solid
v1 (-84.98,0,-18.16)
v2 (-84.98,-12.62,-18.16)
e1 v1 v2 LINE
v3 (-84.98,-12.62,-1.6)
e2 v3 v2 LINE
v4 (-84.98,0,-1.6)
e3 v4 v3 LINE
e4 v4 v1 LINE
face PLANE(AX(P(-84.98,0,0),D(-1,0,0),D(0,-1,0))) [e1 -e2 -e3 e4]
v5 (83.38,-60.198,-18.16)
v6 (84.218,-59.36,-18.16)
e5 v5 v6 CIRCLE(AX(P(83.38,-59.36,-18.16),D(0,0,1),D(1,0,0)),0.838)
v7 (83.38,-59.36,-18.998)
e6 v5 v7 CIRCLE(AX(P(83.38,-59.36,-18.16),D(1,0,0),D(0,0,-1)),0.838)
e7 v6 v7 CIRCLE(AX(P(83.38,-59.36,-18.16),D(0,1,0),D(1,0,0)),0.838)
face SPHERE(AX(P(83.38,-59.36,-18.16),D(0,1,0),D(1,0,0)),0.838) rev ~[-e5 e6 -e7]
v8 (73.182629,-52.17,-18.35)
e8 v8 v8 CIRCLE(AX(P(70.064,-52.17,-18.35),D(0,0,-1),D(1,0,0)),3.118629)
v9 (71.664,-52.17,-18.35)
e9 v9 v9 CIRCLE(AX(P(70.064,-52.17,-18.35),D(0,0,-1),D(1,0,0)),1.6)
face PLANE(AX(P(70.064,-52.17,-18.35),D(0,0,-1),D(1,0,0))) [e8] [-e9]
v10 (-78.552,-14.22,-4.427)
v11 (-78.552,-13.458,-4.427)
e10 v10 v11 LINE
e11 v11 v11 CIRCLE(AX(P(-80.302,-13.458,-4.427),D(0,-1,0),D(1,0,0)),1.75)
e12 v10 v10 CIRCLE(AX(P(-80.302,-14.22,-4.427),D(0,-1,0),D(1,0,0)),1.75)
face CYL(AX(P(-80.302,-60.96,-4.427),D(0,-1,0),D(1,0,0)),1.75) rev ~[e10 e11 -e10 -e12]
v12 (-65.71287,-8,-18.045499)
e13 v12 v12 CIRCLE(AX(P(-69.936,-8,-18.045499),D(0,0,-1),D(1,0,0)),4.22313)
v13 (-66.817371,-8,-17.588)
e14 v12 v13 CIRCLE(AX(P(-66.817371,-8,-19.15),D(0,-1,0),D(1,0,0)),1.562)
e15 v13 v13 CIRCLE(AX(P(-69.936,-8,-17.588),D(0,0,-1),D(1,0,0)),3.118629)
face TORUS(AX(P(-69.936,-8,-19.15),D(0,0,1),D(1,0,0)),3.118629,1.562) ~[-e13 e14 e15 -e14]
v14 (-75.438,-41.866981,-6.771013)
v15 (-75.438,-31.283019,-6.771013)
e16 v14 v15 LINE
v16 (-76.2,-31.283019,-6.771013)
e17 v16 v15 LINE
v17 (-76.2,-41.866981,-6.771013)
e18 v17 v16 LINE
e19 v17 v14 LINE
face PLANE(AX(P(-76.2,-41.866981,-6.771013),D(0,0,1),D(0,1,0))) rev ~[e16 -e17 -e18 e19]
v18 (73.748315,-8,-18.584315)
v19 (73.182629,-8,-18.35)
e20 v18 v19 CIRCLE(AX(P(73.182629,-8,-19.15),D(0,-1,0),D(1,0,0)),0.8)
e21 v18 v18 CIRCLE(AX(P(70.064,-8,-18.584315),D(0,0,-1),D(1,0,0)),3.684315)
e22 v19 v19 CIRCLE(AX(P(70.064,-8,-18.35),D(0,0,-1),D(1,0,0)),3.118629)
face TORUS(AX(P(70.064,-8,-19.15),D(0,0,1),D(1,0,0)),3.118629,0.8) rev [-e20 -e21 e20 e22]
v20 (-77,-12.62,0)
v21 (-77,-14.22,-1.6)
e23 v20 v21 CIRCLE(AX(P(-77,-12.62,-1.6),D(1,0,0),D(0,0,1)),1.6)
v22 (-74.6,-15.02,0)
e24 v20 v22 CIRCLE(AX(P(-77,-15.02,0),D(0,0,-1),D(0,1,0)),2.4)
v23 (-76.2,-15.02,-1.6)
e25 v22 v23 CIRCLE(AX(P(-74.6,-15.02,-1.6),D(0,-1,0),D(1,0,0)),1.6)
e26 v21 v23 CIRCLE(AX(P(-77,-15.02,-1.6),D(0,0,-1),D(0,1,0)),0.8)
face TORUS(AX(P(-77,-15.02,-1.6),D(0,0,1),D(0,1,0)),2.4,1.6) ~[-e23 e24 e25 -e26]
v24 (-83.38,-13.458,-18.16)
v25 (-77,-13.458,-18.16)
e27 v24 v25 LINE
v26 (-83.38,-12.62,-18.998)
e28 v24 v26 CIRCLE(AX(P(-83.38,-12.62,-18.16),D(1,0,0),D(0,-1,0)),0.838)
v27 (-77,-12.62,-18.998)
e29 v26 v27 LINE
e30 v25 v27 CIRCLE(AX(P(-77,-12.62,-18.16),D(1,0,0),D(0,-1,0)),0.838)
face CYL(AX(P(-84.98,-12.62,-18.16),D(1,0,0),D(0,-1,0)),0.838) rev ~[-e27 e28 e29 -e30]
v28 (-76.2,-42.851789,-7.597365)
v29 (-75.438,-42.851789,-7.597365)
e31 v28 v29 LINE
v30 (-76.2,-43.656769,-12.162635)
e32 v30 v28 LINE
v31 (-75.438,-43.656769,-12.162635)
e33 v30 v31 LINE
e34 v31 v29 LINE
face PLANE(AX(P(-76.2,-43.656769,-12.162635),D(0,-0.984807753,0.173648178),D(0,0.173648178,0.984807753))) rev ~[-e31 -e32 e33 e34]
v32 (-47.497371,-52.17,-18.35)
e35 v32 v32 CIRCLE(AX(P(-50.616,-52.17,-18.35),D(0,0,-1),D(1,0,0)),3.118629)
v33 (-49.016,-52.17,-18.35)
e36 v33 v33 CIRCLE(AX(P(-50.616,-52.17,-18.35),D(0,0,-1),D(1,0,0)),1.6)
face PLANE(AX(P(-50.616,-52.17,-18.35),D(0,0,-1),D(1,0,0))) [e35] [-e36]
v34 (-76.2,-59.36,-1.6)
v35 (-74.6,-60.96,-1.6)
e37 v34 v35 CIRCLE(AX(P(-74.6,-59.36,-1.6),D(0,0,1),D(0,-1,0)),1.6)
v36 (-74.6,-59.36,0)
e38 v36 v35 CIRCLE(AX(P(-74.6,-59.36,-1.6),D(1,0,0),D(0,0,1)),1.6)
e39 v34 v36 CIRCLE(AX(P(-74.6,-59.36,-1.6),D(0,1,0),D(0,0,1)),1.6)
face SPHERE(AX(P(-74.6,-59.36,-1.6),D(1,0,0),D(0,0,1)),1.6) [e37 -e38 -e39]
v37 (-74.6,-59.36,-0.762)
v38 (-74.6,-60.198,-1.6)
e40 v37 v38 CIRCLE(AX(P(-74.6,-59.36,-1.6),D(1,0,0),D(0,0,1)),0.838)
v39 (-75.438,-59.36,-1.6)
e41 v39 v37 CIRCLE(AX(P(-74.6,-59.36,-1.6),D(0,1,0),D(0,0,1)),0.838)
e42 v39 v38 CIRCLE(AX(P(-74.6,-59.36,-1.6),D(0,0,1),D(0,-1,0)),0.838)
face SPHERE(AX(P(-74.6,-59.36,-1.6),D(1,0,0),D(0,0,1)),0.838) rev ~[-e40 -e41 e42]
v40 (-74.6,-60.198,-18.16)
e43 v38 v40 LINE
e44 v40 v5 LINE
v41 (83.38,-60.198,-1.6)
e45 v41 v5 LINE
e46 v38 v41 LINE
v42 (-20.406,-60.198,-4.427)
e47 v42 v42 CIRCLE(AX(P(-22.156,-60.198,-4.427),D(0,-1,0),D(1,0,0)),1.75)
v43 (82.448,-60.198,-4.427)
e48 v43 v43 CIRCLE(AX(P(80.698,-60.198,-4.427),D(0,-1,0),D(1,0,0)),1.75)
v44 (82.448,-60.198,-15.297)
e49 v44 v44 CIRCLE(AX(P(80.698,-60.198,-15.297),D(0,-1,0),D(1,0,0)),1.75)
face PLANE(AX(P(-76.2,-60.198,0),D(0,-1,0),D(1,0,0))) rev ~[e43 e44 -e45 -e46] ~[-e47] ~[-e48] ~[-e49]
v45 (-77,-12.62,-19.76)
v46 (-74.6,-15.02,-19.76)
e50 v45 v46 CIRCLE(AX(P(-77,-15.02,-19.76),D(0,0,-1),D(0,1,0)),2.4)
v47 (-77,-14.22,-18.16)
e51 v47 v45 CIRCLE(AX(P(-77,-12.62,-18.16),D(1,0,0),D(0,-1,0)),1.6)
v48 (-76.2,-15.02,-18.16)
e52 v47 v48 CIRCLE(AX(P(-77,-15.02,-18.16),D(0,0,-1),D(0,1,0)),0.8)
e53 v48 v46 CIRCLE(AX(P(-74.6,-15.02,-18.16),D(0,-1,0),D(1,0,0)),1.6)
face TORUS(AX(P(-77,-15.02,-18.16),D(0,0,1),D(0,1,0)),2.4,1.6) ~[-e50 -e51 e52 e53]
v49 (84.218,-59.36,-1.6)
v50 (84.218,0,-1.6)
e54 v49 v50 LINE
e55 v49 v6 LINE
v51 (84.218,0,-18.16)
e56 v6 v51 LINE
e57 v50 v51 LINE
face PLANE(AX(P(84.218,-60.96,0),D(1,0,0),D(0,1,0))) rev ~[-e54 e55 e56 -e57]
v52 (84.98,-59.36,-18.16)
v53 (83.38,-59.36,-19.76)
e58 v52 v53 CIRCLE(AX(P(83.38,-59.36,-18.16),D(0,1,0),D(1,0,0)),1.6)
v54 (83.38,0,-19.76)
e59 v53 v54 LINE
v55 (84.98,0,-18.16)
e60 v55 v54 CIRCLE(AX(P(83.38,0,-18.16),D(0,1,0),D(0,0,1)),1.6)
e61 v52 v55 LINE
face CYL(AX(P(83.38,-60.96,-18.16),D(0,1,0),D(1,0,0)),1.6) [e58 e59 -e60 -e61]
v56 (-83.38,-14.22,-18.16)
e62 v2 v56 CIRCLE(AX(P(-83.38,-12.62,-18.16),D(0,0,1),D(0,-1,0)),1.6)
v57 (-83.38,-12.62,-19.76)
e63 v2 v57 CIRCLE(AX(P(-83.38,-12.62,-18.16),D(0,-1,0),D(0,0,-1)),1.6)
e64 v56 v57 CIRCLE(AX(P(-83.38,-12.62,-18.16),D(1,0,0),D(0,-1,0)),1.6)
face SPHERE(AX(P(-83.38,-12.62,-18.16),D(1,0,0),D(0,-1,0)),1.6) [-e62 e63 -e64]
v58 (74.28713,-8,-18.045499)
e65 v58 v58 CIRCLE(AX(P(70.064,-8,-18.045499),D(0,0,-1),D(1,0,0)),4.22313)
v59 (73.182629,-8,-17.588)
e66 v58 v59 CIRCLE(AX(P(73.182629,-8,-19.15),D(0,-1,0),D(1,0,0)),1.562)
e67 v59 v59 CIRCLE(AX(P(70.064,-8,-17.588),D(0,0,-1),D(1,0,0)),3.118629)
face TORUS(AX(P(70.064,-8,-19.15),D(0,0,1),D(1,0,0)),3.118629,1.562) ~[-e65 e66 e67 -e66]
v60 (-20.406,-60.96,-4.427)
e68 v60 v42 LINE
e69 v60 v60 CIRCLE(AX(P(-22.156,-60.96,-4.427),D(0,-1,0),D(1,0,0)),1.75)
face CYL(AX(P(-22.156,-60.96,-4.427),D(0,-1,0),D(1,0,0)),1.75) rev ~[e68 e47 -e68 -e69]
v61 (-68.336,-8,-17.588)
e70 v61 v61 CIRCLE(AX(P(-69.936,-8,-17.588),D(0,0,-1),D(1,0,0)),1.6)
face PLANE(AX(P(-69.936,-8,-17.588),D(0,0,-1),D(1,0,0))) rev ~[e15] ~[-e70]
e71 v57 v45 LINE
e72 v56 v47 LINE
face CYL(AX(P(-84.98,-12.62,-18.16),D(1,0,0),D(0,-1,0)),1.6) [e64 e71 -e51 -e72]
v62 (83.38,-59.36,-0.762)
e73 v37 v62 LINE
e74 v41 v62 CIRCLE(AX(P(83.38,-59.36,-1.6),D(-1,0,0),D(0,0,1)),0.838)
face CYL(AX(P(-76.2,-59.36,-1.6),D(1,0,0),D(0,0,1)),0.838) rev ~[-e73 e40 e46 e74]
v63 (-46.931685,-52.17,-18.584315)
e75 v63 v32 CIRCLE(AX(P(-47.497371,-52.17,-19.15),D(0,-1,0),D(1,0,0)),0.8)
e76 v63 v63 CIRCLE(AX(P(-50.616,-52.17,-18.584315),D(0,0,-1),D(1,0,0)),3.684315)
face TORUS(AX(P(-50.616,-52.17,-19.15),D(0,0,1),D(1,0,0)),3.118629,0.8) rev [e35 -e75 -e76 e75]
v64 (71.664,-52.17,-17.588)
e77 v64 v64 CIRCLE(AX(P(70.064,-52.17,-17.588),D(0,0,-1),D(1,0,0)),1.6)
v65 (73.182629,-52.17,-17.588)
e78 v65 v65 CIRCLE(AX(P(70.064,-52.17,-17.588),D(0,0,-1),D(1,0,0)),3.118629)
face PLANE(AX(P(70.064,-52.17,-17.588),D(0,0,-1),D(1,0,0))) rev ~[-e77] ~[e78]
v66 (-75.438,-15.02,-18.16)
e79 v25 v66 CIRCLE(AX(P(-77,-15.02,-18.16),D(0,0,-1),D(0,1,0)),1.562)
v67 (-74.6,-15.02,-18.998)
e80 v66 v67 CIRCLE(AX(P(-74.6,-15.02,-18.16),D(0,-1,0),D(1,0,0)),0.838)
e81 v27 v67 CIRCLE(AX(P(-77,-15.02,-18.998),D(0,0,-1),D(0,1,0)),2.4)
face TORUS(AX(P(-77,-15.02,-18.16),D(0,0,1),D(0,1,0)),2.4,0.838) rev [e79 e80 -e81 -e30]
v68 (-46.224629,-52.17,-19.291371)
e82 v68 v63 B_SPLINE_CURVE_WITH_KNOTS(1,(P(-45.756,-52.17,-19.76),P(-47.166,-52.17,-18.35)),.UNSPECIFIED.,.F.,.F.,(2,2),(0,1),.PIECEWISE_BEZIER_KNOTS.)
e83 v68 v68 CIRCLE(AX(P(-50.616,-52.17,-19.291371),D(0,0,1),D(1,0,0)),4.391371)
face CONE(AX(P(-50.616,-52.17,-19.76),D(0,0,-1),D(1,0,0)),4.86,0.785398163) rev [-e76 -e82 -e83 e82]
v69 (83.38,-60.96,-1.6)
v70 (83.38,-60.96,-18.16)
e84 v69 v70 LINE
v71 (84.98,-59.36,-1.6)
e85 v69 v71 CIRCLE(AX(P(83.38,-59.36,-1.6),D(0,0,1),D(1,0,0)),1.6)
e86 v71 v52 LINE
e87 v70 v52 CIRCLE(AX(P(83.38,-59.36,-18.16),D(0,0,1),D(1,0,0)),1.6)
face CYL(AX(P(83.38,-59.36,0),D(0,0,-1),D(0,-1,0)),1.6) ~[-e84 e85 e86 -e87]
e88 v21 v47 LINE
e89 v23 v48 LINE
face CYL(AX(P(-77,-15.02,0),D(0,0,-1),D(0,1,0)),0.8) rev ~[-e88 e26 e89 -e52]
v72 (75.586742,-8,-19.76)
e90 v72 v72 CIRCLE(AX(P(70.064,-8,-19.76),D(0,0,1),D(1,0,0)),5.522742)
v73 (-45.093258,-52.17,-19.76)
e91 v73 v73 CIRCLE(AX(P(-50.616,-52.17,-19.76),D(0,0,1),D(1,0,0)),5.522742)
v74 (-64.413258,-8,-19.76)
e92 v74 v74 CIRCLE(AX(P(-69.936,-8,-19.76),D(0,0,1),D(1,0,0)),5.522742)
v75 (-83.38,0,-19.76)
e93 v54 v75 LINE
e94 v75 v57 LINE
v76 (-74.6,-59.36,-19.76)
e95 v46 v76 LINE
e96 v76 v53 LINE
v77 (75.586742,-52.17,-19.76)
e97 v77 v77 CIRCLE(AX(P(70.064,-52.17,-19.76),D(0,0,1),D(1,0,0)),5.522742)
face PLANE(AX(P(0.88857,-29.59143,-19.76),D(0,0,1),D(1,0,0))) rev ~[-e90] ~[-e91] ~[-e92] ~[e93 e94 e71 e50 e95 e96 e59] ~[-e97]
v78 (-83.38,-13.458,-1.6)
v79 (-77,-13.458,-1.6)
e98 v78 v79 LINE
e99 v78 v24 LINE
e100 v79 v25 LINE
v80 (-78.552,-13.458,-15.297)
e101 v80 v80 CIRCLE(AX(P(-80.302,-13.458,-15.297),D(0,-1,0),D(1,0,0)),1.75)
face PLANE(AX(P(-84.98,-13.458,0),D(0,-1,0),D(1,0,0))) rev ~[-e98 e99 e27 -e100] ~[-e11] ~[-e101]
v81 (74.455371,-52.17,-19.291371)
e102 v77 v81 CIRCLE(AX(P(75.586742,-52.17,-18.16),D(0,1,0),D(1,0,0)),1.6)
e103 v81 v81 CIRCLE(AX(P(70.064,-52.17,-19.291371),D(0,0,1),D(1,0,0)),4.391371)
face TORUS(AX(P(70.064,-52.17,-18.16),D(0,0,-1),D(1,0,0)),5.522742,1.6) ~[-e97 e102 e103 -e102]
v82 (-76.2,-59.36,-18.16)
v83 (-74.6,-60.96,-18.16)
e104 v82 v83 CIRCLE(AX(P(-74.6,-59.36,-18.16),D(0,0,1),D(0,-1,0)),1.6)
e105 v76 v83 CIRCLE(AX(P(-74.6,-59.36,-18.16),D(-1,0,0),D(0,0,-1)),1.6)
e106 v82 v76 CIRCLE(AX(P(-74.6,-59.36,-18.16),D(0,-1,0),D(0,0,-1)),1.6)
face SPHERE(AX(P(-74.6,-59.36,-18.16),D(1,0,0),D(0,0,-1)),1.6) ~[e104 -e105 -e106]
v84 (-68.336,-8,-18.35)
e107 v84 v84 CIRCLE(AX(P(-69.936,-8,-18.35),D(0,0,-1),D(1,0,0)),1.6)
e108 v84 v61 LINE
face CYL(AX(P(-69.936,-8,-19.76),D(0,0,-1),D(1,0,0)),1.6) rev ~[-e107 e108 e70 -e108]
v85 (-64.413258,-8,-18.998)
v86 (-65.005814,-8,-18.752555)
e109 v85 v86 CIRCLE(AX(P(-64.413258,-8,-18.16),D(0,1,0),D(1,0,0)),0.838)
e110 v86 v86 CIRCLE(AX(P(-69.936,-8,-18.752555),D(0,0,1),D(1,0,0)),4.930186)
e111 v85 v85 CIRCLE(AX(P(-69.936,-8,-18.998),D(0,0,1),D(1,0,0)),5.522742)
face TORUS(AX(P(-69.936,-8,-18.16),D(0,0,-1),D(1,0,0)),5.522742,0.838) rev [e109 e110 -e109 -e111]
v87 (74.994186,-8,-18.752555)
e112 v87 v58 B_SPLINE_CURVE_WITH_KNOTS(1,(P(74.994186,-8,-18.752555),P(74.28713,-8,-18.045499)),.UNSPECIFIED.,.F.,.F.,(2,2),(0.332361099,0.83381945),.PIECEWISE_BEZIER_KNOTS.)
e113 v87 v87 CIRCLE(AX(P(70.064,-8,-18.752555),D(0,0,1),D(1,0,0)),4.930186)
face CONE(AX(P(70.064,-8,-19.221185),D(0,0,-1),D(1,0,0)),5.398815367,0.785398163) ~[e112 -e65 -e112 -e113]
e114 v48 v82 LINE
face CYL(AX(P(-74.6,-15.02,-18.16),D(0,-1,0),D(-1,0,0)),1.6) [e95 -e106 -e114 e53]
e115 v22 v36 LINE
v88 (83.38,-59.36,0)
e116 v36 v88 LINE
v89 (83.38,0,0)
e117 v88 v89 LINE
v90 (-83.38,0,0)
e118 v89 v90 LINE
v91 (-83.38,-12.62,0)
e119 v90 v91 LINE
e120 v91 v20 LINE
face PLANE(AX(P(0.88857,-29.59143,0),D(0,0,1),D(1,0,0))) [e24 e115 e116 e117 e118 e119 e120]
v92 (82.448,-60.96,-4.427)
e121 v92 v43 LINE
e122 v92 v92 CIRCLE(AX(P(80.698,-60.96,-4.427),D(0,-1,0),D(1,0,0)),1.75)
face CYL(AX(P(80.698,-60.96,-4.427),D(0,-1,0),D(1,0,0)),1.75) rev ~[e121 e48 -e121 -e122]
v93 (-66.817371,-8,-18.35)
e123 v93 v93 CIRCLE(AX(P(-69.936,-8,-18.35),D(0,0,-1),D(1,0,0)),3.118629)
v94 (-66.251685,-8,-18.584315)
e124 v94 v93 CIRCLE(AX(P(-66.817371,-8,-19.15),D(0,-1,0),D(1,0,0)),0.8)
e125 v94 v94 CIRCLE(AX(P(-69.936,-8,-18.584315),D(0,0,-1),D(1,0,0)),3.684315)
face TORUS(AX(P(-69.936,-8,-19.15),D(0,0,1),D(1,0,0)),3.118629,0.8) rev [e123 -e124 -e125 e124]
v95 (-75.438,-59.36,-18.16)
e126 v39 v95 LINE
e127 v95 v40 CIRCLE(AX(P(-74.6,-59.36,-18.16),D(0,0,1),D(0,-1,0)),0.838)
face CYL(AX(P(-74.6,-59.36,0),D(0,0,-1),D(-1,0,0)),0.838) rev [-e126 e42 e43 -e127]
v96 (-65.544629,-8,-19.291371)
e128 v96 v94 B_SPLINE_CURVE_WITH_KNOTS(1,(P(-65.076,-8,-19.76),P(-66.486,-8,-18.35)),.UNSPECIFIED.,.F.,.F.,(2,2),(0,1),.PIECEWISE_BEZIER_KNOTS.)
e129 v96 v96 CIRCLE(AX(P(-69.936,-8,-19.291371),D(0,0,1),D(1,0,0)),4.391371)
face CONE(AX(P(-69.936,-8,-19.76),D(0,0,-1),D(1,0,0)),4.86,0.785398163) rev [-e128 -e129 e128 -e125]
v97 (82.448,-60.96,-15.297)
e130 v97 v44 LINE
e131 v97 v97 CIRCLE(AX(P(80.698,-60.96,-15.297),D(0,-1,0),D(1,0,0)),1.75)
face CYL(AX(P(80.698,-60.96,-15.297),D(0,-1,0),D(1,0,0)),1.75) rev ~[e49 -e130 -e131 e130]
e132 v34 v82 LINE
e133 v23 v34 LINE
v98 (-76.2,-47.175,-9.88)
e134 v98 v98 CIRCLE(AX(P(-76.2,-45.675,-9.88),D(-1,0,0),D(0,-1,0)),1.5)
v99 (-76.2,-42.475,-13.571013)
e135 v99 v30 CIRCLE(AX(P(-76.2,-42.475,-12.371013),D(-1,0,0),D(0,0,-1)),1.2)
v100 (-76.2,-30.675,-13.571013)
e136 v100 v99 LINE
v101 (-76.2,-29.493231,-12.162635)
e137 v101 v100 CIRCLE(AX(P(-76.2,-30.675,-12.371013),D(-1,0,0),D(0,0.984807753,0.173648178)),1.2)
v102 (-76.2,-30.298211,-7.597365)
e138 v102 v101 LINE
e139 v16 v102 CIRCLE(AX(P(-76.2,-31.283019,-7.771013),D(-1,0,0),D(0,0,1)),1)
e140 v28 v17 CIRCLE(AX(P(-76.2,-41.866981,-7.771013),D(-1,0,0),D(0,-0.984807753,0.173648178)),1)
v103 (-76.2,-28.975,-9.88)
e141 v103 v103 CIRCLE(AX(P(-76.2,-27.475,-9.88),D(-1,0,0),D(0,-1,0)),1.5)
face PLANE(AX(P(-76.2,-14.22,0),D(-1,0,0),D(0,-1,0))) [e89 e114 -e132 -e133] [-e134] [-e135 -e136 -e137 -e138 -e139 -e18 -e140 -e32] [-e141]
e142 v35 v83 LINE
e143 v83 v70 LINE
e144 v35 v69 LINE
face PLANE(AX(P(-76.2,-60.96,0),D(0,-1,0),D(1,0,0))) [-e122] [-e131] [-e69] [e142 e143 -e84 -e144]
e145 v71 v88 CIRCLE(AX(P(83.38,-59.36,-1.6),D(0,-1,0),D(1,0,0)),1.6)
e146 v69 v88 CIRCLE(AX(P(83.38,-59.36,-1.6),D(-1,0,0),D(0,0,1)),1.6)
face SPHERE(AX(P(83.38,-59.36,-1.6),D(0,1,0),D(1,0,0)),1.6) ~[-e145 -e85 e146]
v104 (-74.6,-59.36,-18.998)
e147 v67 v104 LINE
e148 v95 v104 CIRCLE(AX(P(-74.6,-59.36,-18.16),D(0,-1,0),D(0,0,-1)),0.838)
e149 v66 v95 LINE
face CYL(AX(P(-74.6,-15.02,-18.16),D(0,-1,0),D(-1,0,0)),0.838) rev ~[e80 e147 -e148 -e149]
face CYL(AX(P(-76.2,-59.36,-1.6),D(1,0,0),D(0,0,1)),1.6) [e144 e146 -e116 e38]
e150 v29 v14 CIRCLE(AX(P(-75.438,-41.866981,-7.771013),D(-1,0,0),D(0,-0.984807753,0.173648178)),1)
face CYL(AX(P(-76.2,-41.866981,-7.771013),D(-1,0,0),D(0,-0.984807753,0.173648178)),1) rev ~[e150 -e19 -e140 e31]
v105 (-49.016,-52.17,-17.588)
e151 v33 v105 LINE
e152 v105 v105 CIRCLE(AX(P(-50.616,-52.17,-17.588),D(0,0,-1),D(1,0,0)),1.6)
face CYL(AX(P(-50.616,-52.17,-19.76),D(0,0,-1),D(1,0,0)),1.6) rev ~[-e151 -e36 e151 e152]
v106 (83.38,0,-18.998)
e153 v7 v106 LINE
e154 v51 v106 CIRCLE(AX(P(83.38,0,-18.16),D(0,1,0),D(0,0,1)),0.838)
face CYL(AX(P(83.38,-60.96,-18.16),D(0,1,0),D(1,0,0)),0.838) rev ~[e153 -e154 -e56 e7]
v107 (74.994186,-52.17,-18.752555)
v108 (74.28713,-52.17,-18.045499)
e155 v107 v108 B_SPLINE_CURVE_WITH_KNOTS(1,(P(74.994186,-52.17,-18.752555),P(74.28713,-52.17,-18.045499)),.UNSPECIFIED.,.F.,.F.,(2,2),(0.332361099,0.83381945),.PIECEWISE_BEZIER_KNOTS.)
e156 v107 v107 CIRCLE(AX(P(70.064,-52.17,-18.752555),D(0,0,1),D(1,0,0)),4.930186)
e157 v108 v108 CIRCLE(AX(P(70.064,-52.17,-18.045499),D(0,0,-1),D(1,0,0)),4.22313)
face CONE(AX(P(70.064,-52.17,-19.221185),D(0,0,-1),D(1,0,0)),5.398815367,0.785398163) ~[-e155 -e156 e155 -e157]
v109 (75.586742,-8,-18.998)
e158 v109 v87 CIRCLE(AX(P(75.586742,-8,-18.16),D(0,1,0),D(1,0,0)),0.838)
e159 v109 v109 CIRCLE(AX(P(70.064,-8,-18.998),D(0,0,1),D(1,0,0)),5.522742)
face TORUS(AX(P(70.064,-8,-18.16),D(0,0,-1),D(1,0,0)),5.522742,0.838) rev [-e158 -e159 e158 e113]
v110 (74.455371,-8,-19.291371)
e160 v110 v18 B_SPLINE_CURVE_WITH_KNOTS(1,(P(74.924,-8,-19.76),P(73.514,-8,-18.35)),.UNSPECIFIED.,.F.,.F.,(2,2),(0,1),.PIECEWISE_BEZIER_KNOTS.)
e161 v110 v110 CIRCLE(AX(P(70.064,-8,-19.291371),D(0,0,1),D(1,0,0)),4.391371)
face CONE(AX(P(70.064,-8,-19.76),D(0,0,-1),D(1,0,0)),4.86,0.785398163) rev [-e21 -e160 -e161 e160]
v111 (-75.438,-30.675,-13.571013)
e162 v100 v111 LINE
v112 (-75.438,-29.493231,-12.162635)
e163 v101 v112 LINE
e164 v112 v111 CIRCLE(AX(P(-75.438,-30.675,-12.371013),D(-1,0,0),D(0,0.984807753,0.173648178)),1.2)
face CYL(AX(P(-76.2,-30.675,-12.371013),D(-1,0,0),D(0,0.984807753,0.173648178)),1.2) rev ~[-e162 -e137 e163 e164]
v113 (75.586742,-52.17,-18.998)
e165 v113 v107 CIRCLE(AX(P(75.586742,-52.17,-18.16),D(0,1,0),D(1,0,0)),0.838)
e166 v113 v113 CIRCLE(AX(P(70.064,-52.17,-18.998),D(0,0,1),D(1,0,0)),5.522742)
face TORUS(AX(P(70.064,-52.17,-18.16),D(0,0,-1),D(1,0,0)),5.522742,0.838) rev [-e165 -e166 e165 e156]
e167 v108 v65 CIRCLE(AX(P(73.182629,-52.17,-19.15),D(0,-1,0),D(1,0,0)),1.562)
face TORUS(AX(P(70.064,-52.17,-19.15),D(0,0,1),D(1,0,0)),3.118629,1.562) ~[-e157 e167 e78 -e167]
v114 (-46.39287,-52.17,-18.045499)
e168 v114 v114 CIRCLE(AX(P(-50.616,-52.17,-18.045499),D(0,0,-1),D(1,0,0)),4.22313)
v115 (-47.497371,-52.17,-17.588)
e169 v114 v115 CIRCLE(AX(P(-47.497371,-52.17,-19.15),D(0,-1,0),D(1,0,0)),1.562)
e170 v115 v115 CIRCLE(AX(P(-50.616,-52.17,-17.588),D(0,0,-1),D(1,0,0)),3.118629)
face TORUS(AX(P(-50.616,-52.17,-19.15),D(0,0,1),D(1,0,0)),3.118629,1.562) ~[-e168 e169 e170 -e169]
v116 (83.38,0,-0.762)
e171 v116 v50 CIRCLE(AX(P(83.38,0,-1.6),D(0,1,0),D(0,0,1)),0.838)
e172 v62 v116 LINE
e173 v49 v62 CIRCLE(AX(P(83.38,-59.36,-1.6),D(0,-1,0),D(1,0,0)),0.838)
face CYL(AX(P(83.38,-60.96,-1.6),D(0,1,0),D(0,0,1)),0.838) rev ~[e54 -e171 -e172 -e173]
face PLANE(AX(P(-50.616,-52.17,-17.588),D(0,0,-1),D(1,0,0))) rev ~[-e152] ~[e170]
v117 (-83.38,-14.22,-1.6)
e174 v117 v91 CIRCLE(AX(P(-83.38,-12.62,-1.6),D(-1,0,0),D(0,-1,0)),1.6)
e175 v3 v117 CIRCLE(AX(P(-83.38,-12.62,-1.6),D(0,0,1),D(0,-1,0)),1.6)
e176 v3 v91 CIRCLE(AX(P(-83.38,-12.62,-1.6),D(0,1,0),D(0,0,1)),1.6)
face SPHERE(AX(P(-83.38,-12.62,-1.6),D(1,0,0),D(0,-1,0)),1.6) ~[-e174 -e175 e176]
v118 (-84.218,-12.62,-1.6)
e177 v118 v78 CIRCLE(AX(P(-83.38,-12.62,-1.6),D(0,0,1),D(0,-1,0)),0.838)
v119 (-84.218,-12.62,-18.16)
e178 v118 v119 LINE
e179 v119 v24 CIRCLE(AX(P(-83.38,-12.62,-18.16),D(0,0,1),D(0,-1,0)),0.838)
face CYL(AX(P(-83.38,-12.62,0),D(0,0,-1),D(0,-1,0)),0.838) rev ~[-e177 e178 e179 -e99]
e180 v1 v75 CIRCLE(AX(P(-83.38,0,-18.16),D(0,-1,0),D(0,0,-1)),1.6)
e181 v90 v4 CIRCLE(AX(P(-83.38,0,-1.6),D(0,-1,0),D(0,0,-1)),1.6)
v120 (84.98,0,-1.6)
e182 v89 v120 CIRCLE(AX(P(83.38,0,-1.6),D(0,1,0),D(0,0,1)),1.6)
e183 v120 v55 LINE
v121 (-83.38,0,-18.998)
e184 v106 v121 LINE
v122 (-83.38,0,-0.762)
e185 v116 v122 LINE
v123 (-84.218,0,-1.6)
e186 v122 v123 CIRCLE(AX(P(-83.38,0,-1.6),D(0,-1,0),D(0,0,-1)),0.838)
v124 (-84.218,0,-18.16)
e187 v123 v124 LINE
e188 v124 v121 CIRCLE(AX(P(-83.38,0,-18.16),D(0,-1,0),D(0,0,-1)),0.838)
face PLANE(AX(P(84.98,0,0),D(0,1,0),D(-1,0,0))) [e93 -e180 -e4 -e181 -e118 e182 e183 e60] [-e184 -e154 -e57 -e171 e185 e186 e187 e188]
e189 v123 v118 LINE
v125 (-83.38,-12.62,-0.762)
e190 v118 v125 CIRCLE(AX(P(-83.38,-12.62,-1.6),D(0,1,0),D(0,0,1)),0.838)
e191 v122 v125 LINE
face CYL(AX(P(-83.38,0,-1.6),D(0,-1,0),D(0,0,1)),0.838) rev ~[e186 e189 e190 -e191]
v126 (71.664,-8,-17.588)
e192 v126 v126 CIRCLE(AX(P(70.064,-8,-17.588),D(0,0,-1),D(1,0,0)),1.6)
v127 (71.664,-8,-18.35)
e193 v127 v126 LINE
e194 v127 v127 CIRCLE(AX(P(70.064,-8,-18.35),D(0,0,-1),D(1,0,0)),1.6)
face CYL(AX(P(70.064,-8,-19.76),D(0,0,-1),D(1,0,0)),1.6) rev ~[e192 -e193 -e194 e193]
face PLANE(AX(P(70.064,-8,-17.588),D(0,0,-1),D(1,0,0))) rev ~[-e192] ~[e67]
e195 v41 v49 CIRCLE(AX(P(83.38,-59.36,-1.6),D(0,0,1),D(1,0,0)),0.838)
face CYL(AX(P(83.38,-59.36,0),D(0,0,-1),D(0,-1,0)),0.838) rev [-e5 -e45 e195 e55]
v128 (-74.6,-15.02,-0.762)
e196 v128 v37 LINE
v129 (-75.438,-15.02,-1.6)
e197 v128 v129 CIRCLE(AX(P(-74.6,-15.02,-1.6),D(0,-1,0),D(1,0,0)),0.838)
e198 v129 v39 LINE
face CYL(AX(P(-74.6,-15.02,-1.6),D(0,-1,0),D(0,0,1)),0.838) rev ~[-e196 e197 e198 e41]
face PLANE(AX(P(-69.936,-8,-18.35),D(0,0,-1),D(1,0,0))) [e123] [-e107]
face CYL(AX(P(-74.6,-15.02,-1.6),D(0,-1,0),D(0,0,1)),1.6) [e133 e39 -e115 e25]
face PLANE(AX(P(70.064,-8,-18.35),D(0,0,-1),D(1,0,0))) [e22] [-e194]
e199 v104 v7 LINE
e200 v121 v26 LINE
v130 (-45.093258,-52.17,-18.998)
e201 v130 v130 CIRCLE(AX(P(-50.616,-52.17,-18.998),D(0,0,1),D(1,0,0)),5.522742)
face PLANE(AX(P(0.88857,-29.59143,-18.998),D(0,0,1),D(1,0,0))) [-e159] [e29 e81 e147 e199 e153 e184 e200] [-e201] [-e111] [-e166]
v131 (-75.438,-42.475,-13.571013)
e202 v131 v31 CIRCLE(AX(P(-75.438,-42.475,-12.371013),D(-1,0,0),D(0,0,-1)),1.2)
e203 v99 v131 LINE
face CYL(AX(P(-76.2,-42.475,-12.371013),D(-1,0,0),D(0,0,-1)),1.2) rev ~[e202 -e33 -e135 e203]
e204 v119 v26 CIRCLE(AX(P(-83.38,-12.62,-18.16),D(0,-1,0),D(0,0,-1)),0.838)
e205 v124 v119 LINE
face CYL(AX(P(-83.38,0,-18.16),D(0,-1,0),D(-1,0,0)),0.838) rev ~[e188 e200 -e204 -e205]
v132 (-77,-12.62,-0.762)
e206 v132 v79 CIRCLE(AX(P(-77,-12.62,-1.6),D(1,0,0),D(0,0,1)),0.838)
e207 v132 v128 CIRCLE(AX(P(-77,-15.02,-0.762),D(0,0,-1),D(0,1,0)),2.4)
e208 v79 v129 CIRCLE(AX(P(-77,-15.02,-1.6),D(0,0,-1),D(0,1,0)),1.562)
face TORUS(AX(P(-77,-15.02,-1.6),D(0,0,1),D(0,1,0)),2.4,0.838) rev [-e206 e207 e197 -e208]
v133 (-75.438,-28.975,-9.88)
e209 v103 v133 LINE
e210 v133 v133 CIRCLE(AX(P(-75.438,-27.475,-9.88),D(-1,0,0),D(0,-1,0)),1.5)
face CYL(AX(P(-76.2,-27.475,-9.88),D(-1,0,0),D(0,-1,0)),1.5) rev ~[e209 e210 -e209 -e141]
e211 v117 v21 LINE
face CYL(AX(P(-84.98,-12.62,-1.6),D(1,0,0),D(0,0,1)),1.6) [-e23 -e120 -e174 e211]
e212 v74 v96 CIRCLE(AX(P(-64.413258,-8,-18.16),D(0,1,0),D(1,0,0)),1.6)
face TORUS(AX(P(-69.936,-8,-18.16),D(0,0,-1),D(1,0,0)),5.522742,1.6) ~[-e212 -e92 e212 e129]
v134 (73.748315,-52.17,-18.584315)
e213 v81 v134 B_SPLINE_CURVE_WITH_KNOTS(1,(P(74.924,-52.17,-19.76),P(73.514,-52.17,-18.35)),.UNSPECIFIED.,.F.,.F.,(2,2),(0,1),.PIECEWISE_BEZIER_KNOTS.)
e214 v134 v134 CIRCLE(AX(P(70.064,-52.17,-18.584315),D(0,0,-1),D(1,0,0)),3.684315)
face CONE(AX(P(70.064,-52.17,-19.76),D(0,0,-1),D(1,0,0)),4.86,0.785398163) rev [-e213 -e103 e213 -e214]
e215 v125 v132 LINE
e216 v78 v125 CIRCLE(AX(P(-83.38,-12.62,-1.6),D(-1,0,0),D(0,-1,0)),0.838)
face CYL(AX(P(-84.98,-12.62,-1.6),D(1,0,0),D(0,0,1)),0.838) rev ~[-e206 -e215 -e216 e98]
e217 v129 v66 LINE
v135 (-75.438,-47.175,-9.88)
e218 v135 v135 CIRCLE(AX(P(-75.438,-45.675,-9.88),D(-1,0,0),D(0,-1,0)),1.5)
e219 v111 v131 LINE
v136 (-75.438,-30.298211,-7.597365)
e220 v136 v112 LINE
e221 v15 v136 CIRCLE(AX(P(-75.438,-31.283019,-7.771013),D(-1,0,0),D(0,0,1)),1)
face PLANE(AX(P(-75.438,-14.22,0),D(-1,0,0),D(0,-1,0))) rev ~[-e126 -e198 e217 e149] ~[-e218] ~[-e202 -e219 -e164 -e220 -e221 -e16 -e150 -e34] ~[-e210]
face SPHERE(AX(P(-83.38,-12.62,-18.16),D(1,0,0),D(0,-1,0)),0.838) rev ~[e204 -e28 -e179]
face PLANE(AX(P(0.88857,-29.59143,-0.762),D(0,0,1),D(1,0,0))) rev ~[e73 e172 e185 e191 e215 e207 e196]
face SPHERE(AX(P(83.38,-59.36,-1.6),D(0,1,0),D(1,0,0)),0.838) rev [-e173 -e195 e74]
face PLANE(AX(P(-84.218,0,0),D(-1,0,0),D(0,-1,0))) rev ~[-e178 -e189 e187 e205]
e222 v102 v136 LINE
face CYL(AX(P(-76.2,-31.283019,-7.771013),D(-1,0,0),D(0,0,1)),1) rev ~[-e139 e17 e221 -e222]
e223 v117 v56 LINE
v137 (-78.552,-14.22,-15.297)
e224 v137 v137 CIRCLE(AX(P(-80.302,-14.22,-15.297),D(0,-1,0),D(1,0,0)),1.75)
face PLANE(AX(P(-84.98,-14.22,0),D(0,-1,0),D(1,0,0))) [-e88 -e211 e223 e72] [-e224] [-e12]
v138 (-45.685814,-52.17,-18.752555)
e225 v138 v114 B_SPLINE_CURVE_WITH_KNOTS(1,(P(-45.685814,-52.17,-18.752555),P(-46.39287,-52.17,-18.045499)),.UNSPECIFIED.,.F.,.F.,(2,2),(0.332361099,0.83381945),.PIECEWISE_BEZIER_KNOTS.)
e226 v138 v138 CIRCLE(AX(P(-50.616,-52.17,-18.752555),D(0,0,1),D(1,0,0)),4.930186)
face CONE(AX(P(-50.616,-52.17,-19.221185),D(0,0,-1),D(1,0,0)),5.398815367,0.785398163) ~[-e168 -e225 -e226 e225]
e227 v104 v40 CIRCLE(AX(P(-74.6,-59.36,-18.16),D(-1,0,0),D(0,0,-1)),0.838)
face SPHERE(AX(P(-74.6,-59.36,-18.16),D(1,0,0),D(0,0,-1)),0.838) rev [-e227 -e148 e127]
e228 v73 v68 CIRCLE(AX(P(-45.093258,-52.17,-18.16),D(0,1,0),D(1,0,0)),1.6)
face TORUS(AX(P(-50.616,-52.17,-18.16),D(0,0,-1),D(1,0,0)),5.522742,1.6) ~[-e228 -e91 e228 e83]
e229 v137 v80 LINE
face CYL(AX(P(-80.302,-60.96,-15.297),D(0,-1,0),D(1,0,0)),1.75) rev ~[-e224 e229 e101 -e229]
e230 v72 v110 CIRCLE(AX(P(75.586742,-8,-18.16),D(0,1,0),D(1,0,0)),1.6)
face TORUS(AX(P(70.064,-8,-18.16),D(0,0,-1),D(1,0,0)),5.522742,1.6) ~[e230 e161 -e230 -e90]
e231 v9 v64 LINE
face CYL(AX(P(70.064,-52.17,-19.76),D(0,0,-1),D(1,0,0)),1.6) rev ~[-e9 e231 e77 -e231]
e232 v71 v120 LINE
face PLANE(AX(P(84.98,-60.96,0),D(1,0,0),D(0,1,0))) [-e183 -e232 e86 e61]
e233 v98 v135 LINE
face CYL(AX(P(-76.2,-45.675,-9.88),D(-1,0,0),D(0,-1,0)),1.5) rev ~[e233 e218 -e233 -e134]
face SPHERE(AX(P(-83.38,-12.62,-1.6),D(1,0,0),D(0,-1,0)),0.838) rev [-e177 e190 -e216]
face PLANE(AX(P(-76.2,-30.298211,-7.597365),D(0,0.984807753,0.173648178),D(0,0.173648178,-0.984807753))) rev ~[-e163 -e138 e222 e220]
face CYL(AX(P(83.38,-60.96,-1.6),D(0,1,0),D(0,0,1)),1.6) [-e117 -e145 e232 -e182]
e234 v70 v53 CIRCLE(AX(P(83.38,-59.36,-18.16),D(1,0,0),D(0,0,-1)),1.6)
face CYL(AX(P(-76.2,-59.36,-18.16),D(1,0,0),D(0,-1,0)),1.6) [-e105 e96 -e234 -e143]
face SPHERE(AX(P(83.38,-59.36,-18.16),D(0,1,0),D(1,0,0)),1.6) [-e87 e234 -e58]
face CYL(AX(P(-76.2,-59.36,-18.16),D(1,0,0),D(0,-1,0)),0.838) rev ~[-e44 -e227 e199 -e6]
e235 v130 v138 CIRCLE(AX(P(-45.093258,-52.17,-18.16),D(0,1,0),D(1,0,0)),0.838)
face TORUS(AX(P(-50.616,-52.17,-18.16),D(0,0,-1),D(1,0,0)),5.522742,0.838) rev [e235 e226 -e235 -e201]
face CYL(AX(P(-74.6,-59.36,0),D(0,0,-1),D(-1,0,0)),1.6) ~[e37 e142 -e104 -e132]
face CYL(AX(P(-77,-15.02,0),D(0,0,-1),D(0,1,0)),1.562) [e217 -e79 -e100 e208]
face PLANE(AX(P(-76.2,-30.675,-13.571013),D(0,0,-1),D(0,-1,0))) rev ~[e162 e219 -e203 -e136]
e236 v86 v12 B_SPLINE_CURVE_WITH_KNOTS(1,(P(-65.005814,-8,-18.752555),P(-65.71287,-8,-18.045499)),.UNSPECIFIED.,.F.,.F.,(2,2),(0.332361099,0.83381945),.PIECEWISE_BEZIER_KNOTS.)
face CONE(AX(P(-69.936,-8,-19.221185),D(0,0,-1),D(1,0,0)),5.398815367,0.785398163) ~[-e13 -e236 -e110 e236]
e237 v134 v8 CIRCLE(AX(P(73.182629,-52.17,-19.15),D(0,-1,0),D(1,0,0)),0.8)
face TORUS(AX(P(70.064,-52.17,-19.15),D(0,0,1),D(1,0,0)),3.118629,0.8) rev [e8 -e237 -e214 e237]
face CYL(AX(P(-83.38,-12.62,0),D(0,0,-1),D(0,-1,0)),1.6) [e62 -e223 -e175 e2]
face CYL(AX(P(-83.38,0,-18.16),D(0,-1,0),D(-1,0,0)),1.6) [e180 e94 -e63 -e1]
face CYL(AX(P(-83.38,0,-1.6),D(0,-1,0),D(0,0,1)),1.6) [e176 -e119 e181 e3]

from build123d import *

# Parameters (mm, degrees)
F1_DEPTH  = 19.76
F2_R      = 4.86
F3_DEPTH  = 1.41
F3_TAPER  = 45
F4_R      = 0.8
F5_R      = 1.6
F6_T      = -0.762
F7_R      = 1.6
F8_DEPTH  = 2.172
F9_R      = 1.75
F10_DEPTH = 60.961
F11_R     = 1.5
F12_DEPTH = 0.762


with BuildPart() as f1:
    # F0 (on Top) → F1 (new body)
    with BuildSketch(Plane.XY):
        Polygon((84.98, 0), (-84.98, 0), (-84.98, -14.22), (-76.2, -14.22), (-76.2, -60.96), (84.98, -60.96), align=None)
    extrude(amount=-F1_DEPTH)

    # F2 (on face) → F3 (cut)
    with BuildSketch(Plane(origin=(0, 0, -19.76), x_dir=(1, 0, 0), z_dir=(0, 0, -1))):
        with Locations((-50.616, 52.17)):
            Circle(F2_R)
        with Locations((70.064, 8)):
            Circle(F2_R)
        with Locations((70.064, 52.17)):
            Circle(F2_R)
        with Locations((-69.936, 8)):
            Circle(F2_R)
    extrude(amount=-F3_DEPTH, taper=F3_TAPER, mode=Mode.SUBTRACT)

    # F4
    f4_edges = [f1.edges().sort_by_distance(p)[0] for p in [
        (-76.2, -14.22, -9.88),
        (-73.386, -8, -18.35),
        (-54.066, -52.17, -18.35),
        (66.614, -52.17, -18.35),
        (66.614, -8, -18.35),
    ]]
    fillet(f4_edges, radius=F4_R)

    # F5
    f5_edges = [f1.edges().sort_by_distance(p)[0] for p in [
        (84.98, -30.48, -19.76),
        (84.98, -30.48, 0),
        (84.98, -60.96, -9.88),
        (4.39, -60.96, -19.76),
        (4.39, -60.96, 0),
        (-76.2, -37.99, -19.76),
        (-76.2, -37.99, 0),
        (-76.2, -60.96, -9.88),
        (-84.98, -14.22, -9.88),
        (-84.98, -7.11, -19.76),
        (-84.98, -7.11, 0),
        (-74.796, -8, -19.76),
        (-55.476, -52.17, -19.76),
        (65.204, -8, -19.76),
        (65.204, -52.17, -19.76),
    ]]
    fillet(f5_edges, radius=F5_R)

    # F6
    f6_openings = [f1.faces().sort_by_distance(p)[0] for p in [
        (0, 0, -9.88),
    ]]
    offset(amount=F6_T, openings=f6_openings)

    # F7 (on face) → F8 (cut, through all)
    with BuildSketch(Plane(origin=(0, 0, -19.76), x_dir=(1, 0, 0), z_dir=(0, 0, -1))):
        with Locations((70.064, 8)):
            Circle(F7_R)
        with Locations((-69.936, 8)):
            Circle(F7_R)
        with Locations((70.064, 52.17)):
            Circle(F7_R)
        with Locations((-50.616, 52.17)):
            Circle(F7_R)
    extrude(amount=-F8_DEPTH, mode=Mode.SUBTRACT)

    # F9 (on face) → F10 (cut, through all)
    with BuildSketch(Plane.XZ.offset(60.96)):
        with Locations((-80.302, -4.427)):
            Circle(F9_R)
        with Locations((-80.302, -15.297)):
            Circle(F9_R)
        with Locations((-22.156, -4.427)):
            Circle(F9_R)
        with Locations((80.698, -4.427)):
            Circle(F9_R)
        with Locations((80.698, -15.297)):
            Circle(F9_R)
    extrude(amount=-F10_DEPTH, mode=Mode.SUBTRACT)

    # F11 (on face) → F12 (cut, through all)
    with BuildSketch(Plane(origin=(-76.2, 0, 0), x_dir=(0, -1, 0), z_dir=(-1, 0, 0))):
        with Locations((27.475, -9.88)):
            Circle(F11_R)
        with Locations((45.675, -9.88)):
            Circle(F11_R)
        with BuildLine():
            Line((30.2982110359, -7.5973648178), (29.4932306964, -12.1626351822))
            ThreePointArc((29.4932306964, -12.1626351822), (29.7557466683, -13.1423581271), (30.675, -13.5710129954))
            Line((30.675, -13.5710129954), (42.475, -13.5710129954))
            ThreePointArc((42.475, -13.5710129954), (43.3942533317, -13.1423581271), (43.6567693036, -12.1626351822))
            Line((43.6567693036, -12.1626351822), (42.8517889641, -7.5973648178))
            ThreePointArc((42.8517889641, -7.5973648178), (42.5097688208, -7.0049685523), (41.8669812111, -6.7710129954))
            Line((41.8669812111, -6.7710129954), (31.2830187889, -6.7710129954))
            ThreePointArc((31.2830187889, -6.7710129954), (30.6402311792, -7.0049685523), (30.2982110359, -7.5973648178))
        make_face()
    extrude(amount=-F12_DEPTH, mode=Mode.SUBTRACT)


solid = f1.part
